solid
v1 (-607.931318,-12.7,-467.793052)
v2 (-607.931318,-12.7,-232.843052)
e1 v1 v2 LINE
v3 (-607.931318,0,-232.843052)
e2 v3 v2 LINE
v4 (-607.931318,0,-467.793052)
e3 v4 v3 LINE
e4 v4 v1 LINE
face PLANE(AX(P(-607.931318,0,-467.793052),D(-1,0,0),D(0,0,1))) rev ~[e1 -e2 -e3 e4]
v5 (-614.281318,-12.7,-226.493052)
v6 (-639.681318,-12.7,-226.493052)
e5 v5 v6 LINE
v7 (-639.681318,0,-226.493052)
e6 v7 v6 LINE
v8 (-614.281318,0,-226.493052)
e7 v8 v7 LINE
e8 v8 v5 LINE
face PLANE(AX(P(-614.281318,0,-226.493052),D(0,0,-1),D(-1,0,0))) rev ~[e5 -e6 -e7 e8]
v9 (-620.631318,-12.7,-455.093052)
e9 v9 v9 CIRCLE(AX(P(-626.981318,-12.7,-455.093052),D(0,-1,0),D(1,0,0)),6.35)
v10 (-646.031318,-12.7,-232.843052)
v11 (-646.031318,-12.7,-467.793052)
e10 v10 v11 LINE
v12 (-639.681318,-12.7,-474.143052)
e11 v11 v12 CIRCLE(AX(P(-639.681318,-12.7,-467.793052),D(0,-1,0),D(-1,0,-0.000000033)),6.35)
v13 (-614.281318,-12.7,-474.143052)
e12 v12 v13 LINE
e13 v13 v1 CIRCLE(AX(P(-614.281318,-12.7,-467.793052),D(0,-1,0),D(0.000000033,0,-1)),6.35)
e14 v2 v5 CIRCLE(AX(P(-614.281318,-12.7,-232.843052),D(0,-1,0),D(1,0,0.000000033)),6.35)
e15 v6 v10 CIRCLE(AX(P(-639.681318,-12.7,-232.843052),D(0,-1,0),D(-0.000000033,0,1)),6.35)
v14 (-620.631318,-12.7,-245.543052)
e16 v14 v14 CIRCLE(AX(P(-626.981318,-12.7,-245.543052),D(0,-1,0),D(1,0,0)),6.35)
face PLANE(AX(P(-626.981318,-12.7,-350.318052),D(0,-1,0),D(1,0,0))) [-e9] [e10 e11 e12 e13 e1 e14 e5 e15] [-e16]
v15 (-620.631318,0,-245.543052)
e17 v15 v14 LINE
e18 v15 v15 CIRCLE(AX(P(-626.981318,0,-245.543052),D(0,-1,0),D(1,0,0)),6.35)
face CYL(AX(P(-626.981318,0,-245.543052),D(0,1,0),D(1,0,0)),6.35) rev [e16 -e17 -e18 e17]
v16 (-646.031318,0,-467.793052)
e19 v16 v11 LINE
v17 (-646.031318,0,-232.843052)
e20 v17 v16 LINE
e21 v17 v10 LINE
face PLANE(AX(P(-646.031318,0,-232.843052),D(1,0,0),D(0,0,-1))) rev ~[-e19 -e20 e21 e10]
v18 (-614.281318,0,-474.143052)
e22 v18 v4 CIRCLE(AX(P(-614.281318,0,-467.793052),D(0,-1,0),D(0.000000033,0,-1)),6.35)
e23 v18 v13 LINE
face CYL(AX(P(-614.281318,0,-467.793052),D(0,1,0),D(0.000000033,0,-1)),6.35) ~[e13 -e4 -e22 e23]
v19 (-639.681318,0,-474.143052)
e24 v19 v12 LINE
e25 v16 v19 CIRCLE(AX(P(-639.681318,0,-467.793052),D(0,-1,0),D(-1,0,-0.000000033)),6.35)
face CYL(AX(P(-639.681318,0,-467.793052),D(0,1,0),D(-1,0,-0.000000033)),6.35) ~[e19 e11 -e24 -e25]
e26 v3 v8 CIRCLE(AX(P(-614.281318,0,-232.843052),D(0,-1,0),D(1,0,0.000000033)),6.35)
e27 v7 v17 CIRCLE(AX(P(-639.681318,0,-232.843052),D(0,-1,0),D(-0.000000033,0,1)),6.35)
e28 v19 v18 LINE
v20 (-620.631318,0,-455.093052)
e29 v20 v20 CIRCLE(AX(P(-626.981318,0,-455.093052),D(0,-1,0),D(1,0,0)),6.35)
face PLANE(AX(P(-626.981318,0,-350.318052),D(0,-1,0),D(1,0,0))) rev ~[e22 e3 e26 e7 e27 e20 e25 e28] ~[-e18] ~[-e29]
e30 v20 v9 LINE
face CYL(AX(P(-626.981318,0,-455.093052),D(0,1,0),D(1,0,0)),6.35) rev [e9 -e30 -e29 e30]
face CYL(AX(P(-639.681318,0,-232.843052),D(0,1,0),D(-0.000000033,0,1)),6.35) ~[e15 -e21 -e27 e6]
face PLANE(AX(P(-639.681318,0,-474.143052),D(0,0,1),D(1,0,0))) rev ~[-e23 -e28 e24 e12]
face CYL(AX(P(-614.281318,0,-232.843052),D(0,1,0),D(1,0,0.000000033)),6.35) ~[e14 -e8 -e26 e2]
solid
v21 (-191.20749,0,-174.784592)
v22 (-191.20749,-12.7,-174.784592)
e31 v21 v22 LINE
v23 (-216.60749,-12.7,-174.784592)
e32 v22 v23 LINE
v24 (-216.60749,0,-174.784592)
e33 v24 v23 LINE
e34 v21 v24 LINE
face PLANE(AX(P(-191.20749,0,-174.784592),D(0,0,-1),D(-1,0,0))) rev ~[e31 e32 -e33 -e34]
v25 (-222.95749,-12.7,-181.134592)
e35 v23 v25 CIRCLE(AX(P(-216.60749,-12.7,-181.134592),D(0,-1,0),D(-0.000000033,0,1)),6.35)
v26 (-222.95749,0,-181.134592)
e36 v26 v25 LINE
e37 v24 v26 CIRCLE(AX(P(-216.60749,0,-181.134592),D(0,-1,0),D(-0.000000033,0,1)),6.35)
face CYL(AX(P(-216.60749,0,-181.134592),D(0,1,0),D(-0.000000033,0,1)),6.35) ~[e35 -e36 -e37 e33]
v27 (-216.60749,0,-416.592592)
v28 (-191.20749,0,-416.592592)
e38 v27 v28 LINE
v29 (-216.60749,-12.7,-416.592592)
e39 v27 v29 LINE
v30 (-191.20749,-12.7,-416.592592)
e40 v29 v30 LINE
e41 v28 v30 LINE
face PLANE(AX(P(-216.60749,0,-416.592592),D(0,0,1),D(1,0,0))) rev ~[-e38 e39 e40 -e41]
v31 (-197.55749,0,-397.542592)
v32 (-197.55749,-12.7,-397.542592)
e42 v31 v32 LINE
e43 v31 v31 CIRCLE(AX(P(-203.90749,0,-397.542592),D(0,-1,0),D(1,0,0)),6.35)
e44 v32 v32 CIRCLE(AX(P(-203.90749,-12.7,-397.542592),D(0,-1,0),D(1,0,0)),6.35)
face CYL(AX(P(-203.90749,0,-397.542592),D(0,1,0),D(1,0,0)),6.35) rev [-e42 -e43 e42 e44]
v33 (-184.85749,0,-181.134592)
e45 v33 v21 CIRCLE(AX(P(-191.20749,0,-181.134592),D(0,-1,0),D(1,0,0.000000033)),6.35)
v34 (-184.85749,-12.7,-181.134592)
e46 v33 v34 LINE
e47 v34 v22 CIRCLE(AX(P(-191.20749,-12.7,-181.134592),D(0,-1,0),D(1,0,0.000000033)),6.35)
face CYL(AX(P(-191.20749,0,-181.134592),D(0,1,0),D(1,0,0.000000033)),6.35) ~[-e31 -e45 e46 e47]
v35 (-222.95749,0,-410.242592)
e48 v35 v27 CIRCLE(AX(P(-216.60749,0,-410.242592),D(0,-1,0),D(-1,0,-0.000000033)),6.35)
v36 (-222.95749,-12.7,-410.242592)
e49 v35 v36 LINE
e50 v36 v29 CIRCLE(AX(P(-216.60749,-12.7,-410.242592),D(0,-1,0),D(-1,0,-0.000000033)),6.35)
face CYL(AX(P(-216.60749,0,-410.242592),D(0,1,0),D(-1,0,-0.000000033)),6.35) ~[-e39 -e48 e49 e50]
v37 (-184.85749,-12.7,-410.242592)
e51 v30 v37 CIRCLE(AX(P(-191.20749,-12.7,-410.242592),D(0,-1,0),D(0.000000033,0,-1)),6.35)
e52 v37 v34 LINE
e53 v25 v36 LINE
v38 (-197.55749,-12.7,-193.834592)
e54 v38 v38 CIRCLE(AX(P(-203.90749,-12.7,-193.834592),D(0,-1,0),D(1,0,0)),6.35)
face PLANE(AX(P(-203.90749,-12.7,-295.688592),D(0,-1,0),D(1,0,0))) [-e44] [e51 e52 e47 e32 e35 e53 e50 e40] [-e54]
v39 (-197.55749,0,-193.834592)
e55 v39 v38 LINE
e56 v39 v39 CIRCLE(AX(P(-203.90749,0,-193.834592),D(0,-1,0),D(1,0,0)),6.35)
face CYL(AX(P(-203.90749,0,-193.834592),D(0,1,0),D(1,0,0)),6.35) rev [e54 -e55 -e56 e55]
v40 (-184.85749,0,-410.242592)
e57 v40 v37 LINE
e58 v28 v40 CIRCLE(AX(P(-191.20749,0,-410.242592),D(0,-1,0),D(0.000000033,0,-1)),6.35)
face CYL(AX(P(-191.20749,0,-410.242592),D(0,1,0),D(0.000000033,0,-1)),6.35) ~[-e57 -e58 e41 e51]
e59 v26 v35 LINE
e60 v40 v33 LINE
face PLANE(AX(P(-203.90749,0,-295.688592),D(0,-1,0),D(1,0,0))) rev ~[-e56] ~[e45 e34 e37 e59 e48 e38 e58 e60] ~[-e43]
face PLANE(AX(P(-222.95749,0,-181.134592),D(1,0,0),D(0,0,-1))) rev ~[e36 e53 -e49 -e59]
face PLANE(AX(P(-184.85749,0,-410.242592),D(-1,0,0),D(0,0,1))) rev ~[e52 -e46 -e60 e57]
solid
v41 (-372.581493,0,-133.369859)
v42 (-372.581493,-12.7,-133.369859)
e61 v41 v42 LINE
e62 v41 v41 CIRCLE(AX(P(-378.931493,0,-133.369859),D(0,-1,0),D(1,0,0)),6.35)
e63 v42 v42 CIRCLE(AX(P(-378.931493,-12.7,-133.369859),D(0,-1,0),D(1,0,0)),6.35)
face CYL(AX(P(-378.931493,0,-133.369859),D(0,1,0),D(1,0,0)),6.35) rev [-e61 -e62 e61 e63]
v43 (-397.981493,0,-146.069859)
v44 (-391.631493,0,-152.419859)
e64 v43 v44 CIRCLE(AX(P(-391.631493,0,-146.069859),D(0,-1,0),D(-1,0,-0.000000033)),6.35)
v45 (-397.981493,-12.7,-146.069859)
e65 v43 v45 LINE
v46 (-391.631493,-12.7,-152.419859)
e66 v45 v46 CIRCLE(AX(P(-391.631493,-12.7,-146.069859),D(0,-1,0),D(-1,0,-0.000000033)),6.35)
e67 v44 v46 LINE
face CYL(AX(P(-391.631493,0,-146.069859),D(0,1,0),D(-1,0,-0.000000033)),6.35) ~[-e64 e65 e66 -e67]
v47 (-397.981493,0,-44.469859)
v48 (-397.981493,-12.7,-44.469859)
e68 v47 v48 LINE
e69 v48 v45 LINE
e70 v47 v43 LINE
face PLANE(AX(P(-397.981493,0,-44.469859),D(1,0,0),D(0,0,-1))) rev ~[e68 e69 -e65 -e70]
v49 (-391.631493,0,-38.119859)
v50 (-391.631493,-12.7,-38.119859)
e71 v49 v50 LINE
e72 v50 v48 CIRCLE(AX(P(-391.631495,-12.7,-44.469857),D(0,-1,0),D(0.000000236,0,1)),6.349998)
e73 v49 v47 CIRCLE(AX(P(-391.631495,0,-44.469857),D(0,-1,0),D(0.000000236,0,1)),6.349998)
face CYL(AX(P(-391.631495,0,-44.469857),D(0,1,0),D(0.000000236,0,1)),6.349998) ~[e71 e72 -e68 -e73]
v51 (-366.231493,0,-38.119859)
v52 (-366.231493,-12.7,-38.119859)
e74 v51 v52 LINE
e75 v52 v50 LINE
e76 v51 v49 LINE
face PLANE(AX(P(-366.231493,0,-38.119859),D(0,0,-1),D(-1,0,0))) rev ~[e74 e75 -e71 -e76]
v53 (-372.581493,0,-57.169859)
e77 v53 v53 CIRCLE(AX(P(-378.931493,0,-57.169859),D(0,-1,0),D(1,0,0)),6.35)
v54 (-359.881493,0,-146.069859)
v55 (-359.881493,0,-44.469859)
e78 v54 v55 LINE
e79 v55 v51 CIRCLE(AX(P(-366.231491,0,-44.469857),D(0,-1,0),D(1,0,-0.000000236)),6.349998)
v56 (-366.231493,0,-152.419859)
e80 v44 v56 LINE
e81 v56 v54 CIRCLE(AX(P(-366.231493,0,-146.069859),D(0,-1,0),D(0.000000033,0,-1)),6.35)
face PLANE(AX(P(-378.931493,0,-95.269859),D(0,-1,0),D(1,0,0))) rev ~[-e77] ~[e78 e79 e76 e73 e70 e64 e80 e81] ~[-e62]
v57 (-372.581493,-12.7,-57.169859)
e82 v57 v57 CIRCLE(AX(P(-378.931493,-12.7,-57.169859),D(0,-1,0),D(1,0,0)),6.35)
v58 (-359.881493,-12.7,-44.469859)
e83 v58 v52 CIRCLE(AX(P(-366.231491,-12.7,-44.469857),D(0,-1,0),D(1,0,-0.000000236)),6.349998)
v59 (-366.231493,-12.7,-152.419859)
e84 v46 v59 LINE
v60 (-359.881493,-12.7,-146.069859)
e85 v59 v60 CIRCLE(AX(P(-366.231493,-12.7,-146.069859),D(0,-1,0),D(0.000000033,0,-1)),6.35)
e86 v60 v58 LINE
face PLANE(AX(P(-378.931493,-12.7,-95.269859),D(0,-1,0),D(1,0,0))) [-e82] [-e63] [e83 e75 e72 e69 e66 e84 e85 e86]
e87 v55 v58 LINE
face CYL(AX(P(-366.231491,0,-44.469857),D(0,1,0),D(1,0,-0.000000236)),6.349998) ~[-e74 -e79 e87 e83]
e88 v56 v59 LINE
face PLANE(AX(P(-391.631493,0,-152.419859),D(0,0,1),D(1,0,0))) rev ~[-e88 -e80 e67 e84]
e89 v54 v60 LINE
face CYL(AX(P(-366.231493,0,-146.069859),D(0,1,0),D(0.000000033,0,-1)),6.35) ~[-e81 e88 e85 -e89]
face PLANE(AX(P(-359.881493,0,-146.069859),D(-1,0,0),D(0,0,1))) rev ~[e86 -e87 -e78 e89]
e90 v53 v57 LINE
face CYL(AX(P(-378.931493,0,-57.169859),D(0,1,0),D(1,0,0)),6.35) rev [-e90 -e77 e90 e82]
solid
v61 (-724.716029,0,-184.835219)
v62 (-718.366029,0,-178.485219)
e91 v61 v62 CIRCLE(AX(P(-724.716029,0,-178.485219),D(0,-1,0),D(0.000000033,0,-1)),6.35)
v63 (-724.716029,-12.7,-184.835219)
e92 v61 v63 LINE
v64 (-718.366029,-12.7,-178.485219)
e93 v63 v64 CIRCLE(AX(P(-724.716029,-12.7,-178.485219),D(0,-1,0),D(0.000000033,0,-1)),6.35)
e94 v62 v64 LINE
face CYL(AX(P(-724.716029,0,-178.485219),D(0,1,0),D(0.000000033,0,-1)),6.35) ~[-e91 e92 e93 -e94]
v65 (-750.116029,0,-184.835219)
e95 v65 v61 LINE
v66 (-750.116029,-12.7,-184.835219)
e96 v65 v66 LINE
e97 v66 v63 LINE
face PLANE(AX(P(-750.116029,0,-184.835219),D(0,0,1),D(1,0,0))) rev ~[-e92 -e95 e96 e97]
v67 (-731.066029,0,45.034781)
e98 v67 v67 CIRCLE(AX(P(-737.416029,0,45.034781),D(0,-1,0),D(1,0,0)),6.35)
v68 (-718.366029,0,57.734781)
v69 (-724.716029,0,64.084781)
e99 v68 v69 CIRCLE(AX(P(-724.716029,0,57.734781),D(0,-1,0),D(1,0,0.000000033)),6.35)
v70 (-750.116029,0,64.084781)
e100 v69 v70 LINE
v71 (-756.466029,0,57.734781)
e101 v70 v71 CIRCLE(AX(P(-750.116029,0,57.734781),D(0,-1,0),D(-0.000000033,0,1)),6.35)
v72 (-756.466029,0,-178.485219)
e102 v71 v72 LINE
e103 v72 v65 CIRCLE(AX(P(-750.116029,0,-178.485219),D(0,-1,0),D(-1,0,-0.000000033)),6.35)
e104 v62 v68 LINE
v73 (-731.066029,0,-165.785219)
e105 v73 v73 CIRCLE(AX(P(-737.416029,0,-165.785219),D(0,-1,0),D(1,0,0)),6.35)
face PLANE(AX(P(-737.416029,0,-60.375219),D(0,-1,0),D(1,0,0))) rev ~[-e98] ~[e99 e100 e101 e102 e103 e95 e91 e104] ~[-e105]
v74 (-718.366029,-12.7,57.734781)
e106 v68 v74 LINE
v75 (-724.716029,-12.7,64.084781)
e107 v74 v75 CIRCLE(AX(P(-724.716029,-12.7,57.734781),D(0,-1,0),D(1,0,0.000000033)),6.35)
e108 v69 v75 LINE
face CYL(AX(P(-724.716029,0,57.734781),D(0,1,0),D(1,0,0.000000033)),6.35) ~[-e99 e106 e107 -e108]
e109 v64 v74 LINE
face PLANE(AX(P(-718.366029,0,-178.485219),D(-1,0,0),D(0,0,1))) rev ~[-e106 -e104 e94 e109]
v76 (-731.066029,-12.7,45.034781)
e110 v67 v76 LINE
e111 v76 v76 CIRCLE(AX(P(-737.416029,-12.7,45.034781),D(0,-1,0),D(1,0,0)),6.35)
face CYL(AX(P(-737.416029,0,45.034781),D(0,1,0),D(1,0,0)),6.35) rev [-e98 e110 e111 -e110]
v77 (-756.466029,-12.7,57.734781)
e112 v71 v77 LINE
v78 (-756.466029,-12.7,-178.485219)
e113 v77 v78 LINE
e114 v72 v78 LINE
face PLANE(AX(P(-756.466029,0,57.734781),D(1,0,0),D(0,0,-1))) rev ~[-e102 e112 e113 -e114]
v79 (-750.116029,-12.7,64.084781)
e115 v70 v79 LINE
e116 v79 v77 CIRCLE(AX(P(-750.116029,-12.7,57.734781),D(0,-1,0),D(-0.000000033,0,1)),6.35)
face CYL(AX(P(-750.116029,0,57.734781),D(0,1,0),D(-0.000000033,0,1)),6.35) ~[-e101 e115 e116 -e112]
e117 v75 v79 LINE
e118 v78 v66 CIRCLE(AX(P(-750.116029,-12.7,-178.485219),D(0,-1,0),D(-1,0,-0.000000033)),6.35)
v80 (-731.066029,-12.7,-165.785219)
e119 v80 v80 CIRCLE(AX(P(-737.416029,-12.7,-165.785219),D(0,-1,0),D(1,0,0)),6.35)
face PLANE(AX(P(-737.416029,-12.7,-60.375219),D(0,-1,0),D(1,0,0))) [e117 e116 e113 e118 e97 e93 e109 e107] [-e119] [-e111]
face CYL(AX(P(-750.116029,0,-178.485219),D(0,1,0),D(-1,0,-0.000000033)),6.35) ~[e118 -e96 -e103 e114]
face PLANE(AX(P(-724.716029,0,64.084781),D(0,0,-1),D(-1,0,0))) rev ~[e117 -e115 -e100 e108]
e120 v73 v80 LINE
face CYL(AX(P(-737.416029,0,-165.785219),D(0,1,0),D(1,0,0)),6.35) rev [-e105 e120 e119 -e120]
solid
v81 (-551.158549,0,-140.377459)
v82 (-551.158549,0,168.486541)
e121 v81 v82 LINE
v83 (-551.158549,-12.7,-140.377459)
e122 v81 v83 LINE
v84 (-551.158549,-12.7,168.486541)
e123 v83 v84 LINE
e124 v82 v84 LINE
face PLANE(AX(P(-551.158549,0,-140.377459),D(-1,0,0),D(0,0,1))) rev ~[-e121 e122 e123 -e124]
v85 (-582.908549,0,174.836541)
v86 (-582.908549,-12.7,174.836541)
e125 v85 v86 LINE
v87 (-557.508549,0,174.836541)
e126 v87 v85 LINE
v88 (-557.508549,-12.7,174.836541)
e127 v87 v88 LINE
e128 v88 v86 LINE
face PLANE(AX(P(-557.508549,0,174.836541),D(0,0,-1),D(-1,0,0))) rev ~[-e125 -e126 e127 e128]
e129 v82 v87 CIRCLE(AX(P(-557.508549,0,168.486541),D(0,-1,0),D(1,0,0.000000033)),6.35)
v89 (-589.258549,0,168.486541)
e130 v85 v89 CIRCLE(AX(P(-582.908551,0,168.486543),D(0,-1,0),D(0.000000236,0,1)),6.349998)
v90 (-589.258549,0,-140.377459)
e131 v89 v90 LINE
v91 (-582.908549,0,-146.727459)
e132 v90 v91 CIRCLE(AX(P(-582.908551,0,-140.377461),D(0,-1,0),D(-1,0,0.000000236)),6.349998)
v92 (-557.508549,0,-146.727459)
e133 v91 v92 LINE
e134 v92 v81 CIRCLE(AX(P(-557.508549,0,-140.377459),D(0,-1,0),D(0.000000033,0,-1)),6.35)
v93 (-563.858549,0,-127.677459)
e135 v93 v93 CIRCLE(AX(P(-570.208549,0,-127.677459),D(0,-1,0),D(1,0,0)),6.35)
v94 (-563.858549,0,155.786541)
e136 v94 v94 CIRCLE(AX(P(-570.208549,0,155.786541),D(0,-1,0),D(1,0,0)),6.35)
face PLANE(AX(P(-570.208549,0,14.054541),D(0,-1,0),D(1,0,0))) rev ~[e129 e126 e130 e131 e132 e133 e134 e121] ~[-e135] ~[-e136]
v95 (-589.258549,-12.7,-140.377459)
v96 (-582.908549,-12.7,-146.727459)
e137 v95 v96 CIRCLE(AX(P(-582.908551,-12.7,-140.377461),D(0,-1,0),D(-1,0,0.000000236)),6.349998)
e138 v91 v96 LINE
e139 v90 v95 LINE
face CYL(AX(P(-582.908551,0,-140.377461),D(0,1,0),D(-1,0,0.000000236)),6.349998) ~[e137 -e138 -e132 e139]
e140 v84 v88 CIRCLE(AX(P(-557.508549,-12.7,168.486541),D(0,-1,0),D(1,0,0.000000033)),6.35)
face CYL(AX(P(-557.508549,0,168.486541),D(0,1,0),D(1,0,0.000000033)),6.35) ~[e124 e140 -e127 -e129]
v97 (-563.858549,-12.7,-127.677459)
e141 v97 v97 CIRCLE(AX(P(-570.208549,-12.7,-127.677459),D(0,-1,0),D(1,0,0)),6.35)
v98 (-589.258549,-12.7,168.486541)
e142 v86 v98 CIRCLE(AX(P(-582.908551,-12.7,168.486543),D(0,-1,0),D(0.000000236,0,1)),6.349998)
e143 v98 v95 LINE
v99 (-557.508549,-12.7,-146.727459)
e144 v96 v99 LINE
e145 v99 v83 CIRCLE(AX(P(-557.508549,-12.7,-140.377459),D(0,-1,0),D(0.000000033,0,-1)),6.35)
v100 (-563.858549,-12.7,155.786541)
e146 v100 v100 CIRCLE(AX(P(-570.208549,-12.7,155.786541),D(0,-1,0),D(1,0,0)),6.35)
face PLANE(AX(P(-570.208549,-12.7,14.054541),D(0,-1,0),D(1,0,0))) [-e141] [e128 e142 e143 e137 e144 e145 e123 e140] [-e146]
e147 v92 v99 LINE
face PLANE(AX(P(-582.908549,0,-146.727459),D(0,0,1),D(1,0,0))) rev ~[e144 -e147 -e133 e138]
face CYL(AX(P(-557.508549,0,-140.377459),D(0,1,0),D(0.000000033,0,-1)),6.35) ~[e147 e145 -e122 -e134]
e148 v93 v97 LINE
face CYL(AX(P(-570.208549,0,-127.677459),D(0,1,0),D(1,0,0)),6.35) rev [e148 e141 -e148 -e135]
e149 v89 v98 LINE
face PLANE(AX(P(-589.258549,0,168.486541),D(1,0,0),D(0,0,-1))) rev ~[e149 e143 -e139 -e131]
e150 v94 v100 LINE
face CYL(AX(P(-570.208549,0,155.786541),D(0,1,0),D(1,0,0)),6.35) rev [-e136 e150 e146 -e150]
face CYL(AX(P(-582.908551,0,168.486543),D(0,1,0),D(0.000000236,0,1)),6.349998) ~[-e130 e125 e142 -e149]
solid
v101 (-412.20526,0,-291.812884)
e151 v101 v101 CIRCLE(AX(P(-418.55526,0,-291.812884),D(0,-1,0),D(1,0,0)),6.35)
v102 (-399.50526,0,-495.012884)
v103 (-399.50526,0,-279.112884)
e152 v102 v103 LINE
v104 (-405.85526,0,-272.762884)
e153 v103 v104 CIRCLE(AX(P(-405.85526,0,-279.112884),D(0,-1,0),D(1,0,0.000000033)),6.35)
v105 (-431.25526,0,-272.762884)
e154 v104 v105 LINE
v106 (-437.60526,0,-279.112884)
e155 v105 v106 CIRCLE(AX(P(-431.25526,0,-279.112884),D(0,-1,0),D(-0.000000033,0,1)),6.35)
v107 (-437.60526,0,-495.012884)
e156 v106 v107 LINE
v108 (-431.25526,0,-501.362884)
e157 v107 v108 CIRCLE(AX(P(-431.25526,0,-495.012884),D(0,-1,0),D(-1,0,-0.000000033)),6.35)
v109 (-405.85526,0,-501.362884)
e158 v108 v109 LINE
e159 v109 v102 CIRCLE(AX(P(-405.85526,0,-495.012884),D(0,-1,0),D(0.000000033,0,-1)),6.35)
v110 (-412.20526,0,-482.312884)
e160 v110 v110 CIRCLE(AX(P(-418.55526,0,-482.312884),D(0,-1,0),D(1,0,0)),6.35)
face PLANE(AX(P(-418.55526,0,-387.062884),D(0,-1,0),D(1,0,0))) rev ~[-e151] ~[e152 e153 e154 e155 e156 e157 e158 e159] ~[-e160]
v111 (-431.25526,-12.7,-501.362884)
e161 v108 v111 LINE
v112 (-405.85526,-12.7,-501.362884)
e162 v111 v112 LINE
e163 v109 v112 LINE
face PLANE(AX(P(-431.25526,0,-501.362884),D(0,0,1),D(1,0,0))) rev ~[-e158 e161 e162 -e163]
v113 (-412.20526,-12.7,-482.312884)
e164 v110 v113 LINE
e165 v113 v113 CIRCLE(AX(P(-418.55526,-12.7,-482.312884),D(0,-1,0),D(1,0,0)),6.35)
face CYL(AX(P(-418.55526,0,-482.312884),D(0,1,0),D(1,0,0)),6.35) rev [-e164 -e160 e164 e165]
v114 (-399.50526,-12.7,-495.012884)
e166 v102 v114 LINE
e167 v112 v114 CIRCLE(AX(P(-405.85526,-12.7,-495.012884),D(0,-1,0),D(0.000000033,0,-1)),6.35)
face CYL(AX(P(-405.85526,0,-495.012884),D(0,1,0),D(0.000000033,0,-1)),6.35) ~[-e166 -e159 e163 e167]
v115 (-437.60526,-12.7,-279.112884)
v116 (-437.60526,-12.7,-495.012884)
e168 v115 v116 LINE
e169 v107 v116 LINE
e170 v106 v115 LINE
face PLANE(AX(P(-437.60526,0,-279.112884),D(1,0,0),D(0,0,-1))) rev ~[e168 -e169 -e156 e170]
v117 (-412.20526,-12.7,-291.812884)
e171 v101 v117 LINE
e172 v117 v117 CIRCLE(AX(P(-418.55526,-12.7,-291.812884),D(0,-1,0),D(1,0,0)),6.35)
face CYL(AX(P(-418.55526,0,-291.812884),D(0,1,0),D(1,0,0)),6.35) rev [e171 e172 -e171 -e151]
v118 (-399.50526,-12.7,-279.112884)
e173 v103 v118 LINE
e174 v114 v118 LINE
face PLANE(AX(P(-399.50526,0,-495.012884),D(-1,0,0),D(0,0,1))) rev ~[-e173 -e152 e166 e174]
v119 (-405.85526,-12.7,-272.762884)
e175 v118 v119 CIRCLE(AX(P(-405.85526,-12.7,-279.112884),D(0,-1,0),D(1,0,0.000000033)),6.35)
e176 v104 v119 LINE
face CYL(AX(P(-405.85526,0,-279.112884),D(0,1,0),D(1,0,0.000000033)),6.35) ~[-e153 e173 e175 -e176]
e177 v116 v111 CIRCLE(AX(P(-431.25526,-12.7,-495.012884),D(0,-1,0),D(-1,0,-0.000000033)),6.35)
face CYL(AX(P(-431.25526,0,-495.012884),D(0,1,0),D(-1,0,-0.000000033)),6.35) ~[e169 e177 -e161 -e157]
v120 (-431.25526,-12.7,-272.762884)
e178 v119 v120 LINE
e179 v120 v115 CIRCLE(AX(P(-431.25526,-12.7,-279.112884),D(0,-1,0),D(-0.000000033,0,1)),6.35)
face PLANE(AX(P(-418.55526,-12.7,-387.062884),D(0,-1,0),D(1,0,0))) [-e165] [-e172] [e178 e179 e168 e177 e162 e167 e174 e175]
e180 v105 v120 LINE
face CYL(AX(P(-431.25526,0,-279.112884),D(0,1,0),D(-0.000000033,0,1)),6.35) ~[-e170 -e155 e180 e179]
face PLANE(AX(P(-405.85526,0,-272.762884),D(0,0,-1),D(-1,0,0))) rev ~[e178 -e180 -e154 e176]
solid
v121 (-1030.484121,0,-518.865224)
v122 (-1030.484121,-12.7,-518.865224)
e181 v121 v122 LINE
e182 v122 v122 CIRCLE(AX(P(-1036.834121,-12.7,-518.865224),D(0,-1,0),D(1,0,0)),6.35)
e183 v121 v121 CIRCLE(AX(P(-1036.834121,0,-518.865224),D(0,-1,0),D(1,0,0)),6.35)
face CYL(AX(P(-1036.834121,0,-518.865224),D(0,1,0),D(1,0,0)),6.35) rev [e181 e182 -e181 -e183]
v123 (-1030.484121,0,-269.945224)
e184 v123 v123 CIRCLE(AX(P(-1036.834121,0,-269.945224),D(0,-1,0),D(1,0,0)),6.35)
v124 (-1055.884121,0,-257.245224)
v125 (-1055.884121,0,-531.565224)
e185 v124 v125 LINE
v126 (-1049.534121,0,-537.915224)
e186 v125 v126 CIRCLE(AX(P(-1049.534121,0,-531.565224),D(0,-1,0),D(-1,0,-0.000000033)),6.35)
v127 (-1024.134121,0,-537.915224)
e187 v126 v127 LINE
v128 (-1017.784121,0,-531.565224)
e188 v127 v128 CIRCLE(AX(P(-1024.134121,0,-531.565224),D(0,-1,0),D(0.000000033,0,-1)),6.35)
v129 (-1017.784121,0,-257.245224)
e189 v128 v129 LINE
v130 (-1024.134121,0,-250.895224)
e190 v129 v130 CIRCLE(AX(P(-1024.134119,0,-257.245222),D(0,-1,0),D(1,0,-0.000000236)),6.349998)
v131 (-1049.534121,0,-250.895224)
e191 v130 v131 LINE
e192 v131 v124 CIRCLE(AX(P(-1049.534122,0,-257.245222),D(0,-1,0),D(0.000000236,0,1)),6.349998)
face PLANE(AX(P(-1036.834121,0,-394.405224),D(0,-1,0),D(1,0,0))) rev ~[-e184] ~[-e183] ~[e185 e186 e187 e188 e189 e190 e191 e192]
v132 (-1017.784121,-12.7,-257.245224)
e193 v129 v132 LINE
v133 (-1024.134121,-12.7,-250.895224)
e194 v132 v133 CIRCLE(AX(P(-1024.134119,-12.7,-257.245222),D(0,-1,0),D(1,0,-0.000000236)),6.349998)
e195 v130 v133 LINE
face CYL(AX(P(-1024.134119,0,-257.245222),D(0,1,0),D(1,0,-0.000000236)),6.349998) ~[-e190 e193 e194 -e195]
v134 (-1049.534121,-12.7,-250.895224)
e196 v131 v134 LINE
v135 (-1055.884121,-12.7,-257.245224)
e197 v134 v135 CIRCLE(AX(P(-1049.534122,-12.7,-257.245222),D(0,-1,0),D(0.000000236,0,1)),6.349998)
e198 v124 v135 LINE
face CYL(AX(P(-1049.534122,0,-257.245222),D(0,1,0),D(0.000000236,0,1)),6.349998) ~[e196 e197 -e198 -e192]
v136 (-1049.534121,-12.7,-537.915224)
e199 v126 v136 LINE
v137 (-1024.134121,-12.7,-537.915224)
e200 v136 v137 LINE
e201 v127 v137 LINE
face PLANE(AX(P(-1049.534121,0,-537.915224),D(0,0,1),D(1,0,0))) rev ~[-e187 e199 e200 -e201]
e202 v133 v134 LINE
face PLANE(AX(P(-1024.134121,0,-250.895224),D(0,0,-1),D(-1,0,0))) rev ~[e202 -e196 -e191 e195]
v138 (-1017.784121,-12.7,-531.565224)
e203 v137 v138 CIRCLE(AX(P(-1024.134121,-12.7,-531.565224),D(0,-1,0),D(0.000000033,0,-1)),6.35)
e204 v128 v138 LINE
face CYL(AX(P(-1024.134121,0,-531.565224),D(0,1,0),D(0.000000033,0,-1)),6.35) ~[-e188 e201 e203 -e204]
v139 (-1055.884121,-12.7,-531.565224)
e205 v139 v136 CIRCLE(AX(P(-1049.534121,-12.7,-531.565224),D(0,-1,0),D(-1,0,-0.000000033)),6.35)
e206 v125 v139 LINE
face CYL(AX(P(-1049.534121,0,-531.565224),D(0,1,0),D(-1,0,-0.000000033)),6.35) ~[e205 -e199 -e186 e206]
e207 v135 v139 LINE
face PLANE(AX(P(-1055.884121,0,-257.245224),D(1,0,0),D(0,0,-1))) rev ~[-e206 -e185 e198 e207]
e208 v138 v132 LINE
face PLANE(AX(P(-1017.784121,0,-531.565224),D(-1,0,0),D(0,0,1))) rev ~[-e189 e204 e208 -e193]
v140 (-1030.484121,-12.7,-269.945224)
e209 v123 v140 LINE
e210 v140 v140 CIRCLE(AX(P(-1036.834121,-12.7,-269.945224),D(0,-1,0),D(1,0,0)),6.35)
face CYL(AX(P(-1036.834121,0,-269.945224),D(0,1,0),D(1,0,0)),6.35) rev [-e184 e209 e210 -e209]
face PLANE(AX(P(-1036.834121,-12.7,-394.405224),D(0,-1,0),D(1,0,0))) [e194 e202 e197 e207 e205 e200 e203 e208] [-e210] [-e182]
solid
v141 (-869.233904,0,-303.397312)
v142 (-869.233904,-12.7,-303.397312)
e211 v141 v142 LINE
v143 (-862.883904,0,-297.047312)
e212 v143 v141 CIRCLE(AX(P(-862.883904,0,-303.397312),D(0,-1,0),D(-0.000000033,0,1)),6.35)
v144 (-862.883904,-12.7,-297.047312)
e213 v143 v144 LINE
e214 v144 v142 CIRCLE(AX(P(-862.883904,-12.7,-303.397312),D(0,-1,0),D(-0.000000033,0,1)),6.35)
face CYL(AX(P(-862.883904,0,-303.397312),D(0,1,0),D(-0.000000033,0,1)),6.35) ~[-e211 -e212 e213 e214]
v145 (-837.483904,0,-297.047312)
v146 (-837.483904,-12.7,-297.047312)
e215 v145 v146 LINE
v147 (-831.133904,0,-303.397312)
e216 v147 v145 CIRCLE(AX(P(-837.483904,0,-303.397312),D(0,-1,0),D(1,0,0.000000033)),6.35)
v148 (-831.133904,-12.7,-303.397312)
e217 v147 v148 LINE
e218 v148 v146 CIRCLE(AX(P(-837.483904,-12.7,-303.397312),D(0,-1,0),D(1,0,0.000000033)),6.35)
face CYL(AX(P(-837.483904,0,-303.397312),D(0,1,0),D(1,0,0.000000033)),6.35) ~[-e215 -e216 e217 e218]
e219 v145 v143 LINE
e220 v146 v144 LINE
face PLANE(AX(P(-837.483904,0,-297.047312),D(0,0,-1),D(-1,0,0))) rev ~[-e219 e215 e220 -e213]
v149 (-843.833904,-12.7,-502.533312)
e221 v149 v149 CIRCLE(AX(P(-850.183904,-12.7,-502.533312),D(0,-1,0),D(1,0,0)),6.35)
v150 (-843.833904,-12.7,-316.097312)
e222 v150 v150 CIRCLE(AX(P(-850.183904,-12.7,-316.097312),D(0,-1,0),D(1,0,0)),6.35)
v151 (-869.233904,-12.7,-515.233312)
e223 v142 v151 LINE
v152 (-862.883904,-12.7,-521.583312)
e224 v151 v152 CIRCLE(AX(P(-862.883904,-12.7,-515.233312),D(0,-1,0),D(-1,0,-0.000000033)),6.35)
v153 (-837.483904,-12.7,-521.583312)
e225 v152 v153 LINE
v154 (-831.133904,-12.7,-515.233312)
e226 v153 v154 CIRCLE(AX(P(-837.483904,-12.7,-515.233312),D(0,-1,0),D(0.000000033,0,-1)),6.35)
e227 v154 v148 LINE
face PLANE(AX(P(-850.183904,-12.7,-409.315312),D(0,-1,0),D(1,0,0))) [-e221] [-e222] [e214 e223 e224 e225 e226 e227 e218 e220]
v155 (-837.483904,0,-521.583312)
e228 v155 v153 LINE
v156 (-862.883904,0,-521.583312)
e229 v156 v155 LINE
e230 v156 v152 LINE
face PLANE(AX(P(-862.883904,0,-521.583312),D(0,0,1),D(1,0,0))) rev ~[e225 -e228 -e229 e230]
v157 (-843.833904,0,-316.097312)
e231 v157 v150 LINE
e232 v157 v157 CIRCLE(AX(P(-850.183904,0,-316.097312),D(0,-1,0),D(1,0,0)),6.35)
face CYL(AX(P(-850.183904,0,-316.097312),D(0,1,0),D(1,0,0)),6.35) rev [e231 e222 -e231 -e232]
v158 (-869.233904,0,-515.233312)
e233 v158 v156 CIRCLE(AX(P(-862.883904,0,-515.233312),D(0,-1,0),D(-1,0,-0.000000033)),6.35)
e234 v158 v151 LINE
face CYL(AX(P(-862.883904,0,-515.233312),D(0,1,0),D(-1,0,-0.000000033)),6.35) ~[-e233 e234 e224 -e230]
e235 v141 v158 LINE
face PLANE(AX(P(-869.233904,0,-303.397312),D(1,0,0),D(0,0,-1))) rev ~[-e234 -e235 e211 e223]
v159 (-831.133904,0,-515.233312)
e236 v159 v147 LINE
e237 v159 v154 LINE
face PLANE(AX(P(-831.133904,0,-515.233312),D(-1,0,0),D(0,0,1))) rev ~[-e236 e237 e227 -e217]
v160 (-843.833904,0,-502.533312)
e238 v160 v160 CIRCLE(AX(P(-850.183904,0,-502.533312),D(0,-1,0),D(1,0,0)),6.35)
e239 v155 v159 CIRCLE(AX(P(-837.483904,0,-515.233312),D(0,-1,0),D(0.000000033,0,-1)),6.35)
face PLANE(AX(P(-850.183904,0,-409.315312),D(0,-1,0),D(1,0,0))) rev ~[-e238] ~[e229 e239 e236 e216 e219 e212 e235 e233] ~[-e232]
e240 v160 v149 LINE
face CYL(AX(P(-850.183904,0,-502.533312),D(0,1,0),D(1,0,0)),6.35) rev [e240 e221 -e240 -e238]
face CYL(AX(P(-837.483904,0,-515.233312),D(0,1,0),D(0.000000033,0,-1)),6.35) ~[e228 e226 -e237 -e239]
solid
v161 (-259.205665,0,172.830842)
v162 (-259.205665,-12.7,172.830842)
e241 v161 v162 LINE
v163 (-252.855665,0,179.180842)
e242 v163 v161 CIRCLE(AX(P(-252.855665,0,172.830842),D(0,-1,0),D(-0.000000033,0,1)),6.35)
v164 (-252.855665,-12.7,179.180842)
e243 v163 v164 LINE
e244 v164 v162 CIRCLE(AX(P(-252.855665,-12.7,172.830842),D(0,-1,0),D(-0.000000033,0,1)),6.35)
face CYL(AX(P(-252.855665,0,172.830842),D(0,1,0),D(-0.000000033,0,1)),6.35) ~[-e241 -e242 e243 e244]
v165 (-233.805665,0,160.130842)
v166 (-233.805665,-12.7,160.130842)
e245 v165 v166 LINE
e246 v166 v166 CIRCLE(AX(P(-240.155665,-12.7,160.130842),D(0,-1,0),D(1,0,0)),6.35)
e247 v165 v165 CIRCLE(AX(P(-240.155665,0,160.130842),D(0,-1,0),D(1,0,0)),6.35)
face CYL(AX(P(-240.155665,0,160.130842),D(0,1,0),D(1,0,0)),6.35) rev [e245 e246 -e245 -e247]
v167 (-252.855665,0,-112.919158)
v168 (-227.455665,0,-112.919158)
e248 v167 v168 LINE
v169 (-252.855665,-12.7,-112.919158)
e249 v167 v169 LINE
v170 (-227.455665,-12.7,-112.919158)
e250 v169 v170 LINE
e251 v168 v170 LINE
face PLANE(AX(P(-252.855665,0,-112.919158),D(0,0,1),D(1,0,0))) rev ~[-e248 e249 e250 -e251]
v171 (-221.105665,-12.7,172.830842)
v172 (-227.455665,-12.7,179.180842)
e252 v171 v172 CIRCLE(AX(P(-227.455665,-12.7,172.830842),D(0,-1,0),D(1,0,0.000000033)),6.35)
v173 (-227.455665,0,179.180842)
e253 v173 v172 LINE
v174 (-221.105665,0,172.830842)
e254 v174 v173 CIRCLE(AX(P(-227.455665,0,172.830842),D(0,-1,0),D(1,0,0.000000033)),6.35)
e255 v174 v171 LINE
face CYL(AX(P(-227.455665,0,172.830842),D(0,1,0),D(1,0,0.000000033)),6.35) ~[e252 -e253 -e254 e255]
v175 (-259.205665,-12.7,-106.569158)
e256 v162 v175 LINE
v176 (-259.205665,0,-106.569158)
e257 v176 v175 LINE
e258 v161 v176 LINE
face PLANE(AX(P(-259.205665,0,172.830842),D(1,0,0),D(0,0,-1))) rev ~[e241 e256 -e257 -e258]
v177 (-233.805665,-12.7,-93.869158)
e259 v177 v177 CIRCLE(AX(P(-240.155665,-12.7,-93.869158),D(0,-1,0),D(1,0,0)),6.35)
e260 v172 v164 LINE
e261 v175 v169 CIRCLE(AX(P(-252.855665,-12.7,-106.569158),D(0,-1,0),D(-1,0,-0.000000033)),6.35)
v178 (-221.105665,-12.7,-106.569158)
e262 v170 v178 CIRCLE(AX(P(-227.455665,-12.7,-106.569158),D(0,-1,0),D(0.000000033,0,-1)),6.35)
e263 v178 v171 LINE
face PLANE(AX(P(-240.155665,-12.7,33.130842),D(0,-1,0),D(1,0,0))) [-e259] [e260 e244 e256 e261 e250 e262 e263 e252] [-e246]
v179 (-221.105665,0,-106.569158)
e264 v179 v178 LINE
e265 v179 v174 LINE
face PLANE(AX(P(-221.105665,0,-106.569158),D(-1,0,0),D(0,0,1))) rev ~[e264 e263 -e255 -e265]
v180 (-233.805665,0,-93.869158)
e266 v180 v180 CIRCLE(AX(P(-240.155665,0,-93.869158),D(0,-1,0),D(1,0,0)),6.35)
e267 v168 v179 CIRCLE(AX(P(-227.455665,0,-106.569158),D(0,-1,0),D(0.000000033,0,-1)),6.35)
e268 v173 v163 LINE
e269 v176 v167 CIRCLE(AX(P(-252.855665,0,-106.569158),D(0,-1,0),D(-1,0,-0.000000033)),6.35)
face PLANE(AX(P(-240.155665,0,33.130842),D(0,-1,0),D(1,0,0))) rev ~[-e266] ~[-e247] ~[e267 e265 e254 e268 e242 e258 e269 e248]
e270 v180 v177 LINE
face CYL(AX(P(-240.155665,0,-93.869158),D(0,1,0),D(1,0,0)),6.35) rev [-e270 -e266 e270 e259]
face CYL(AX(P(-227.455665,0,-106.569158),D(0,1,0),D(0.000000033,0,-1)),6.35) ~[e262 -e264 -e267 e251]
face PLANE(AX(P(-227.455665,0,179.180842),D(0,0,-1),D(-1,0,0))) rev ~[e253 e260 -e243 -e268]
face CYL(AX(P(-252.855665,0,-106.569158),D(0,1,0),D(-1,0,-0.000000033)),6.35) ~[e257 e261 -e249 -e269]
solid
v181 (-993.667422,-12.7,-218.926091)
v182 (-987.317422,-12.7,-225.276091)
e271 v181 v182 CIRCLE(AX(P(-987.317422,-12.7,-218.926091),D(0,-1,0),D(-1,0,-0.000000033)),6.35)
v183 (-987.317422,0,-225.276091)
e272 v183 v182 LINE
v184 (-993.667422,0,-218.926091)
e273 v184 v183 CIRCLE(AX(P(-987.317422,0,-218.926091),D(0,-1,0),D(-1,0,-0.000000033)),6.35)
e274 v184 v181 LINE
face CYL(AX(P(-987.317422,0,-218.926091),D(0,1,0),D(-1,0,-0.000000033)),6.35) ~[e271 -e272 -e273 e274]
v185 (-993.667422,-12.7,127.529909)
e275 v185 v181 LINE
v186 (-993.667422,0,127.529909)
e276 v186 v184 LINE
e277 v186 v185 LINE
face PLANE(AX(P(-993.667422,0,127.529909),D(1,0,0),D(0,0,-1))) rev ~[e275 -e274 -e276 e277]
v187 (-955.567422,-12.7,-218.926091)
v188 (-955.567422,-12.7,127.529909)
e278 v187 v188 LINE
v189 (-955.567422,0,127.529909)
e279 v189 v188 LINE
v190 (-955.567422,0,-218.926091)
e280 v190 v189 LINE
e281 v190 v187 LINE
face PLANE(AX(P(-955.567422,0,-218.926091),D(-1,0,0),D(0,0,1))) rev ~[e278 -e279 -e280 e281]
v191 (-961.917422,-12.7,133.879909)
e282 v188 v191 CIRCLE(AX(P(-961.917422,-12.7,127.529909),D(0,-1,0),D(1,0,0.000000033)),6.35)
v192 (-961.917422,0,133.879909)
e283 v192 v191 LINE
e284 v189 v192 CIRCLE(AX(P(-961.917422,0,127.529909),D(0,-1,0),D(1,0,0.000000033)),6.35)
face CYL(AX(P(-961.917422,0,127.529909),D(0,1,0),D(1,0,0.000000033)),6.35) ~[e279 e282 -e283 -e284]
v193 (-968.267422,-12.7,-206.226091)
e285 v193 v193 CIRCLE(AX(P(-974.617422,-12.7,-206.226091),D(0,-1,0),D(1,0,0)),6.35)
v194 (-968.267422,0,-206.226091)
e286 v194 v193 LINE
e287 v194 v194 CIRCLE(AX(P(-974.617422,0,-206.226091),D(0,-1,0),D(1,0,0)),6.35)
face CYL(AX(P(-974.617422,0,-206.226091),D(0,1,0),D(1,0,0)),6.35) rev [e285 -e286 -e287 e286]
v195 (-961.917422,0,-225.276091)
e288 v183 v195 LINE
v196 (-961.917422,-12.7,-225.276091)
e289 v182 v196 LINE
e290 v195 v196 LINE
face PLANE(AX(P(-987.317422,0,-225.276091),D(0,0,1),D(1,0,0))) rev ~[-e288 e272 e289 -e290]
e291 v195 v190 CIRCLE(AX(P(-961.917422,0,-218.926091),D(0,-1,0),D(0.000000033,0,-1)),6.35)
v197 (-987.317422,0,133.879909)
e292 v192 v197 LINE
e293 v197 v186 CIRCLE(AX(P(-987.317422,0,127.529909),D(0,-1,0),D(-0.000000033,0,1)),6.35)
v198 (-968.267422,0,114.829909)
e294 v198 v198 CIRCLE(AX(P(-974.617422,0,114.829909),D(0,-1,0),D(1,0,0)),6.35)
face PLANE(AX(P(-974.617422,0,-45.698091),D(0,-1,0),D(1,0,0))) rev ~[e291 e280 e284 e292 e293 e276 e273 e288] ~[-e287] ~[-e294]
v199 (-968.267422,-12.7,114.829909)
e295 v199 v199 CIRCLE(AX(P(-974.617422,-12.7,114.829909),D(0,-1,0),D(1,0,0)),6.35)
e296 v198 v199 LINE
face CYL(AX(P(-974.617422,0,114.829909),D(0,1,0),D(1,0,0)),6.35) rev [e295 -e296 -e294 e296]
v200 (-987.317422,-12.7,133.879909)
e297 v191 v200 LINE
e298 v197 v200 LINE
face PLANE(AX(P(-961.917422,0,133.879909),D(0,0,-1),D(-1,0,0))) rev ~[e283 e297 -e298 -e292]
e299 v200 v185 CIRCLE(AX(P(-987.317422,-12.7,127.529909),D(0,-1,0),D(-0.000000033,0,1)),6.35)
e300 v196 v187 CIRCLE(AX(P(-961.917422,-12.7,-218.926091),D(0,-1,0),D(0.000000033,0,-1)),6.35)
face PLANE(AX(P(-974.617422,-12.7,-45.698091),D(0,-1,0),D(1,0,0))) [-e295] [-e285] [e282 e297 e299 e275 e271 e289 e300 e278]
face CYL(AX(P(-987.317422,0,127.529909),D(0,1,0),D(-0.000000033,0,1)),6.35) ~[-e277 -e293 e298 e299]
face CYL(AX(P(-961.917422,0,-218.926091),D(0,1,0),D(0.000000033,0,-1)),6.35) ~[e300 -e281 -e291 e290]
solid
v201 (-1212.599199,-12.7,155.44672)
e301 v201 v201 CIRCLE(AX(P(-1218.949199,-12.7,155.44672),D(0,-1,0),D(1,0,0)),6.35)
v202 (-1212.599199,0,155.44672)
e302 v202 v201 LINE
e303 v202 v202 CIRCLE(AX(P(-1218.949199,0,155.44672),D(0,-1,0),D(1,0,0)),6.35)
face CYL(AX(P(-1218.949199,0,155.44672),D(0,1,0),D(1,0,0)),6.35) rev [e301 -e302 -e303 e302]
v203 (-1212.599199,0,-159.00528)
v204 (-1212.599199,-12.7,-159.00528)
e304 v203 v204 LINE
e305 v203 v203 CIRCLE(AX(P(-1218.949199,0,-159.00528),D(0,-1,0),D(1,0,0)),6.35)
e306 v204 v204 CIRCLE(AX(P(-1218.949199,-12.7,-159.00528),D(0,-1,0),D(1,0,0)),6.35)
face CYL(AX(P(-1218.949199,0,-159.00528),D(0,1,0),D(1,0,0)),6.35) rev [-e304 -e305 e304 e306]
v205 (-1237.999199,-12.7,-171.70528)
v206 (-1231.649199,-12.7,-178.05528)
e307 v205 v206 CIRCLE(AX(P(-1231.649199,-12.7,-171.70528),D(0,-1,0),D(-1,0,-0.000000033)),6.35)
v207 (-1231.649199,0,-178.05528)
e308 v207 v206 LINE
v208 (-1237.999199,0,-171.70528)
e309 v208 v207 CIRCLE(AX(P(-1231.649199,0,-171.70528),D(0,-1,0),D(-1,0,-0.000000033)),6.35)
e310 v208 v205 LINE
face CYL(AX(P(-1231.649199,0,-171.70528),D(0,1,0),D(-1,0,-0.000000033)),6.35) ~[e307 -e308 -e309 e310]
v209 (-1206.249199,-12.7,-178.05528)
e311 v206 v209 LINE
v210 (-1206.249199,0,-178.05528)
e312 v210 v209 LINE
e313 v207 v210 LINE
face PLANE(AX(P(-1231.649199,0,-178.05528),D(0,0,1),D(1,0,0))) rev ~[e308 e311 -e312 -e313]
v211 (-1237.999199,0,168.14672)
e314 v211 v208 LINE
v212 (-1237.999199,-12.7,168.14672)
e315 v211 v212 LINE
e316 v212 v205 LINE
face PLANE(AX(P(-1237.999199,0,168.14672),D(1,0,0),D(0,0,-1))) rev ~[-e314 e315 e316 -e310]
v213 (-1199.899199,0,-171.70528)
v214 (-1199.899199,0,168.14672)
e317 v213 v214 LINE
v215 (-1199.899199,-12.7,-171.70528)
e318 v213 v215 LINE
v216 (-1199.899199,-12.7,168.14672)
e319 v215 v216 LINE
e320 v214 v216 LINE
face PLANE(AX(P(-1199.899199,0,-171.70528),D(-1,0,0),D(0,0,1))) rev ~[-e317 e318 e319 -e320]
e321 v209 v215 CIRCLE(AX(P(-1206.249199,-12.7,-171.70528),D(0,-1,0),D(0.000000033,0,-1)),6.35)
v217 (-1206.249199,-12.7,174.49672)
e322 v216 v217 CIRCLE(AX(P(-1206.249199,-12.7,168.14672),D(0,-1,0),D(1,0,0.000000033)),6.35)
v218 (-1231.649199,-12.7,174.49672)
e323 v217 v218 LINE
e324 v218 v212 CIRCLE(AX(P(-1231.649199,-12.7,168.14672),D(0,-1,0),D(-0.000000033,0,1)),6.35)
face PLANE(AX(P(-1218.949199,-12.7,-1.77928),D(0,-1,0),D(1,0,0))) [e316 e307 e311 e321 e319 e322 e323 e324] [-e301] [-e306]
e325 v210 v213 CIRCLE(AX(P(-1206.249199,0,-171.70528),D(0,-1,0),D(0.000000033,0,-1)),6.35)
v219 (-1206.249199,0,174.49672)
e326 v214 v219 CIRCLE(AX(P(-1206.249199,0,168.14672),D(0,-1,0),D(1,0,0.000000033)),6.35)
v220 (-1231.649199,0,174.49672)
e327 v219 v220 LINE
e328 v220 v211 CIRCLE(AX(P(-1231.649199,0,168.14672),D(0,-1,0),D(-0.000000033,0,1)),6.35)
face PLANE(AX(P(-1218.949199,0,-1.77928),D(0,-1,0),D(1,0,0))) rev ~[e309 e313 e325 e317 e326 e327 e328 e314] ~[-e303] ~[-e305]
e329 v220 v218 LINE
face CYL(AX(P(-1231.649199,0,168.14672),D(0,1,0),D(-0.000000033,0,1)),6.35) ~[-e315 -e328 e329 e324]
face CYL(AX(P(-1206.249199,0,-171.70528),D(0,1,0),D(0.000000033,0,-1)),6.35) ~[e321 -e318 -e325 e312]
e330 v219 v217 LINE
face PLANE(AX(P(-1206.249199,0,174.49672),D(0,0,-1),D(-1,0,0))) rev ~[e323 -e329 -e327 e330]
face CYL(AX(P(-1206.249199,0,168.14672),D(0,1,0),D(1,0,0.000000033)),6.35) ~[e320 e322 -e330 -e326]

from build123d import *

# Parameters (mm, degrees)
F0_R     = 6.35
F1_DEPTH = 12.7


with BuildPart() as f1:
    # F0 (on Front) → F1 (new body)
    with BuildSketch(Plane.XZ):
        with BuildLine():
            ThreePointArc((-1231.649199, 174.49672), (-1236.139327, 172.636848), (-1237.999199, 168.14672))
            Line((-1237.999199, 168.14672), (-1237.999199, -171.70528))
            ThreePointArc((-1237.999199, -171.70528), (-1236.139327, -176.195408), (-1231.649199, -178.05528))
            Line((-1231.649199, -178.05528), (-1206.249199, -178.05528))
            ThreePointArc((-1206.249199, -178.05528), (-1201.759071, -176.195408), (-1199.899199, -171.70528))
            Line((-1199.899199, -171.70528), (-1199.899199, 168.14672))
            ThreePointArc((-1199.899199, 168.14672), (-1201.759071, 172.636848), (-1206.249199, 174.49672))
            Line((-1206.249199, 174.49672), (-1231.649199, 174.49672))
        make_face()
        with Locations((-1218.949199, -159.00528)):
            Circle(F0_R, mode=Mode.SUBTRACT)
        with Locations((-1218.949199, 155.44672)):
            Circle(F0_R, mode=Mode.SUBTRACT)
        with BuildLine():
            ThreePointArc((-987.317422, 133.879909), (-991.80755, 132.020037), (-993.667422, 127.529909))
            Line((-993.667422, 127.529909), (-993.667422, -218.926091))
            ThreePointArc((-993.667422, -218.926091), (-991.80755, -223.416219), (-987.317422, -225.276091))
            Line((-987.317422, -225.276091), (-961.917422, -225.276091))
            ThreePointArc((-961.917422, -225.276091), (-957.427294, -223.416219), (-955.567422, -218.926091))
            Line((-955.567422, -218.926091), (-955.567422, 127.529909))
            ThreePointArc((-955.567422, 127.529909), (-957.427294, 132.020037), (-961.917422, 133.879909))
            Line((-961.917422, 133.879909), (-987.317422, 133.879909))
        make_face()
        with Locations((-974.617422, -206.226091)):
            Circle(F0_R, mode=Mode.SUBTRACT)
        with Locations((-974.617422, 114.829909)):
            Circle(F0_R, mode=Mode.SUBTRACT)
        with BuildLine():
            ThreePointArc((-750.116029, 64.084781), (-754.606157, 62.224909), (-756.466029, 57.734781))
            Line((-756.466029, 57.734781), (-756.466029, -178.485219))
            ThreePointArc((-756.466029, -178.485219), (-754.606157, -182.975347), (-750.116029, -184.835219))
            Line((-750.116029, -184.835219), (-724.716029, -184.835219))
            ThreePointArc((-724.716029, -184.835219), (-720.225901, -182.975347), (-718.366029, -178.485219))
            Line((-718.366029, -178.485219), (-718.366029, 57.734781))
            ThreePointArc((-718.366029, 57.734781), (-720.225901, 62.224909), (-724.716029, 64.084781))
            Line((-724.716029, 64.084781), (-750.116029, 64.084781))
        make_face()
        with Locations((-737.416029, -165.785219)):
            Circle(F0_R, mode=Mode.SUBTRACT)
        with Locations((-737.416029, 45.034781)):
            Circle(F0_R, mode=Mode.SUBTRACT)
        with BuildLine():
            ThreePointArc((-582.908549, 174.836541), (-587.398678, 172.976669), (-589.258549, 168.486541))
            Line((-589.258549, 168.486541), (-589.258549, -140.377459))
            ThreePointArc((-589.258549, -140.377459), (-587.398678, -144.867587), (-582.908549, -146.727459))
            Line((-582.908549, -146.727459), (-557.508549, -146.727459))
            ThreePointArc((-557.508549, -146.727459), (-553.018421, -144.867587), (-551.158549, -140.377459))
            Line((-551.158549, -140.377459), (-551.158549, 168.486541))
            ThreePointArc((-551.158549, 168.486541), (-553.018421, 172.976669), (-557.508549, 174.836541))
            Line((-557.508549, 174.836541), (-582.908549, 174.836541))
        make_face()
        with Locations((-570.208549, -127.677459)):
            Circle(F0_R, mode=Mode.SUBTRACT)
        with Locations((-570.208549, 155.786541)):
            Circle(F0_R, mode=Mode.SUBTRACT)
        with BuildLine():
            Line((-359.881493, -146.069859), (-359.881493, -44.469859))
            ThreePointArc((-359.881493, -44.469859), (-361.741365, -39.97973), (-366.231493, -38.119859))
            Line((-366.231493, -38.119859), (-391.631493, -38.119859))
            ThreePointArc((-391.631493, -38.119859), (-396.121621, -39.97973), (-397.981493, -44.469859))
            Line((-397.981493, -44.469859), (-397.981493, -146.069859))
            ThreePointArc((-397.981493, -146.069859), (-396.121621, -150.559987), (-391.631493, -152.419859))
            Line((-391.631493, -152.419859), (-366.231493, -152.419859))
            ThreePointArc((-366.231493, -152.419859), (-361.741365, -150.559987), (-359.881493, -146.069859))
        make_face()
        with Locations((-378.931493, -133.369859)):
            Circle(F0_R, mode=Mode.SUBTRACT)
        with Locations((-378.931493, -57.169859)):
            Circle(F0_R, mode=Mode.SUBTRACT)
        with BuildLine():
            Line((-227.455665, 179.180842), (-252.855665, 179.180842))
            ThreePointArc((-252.855665, 179.180842), (-257.345793, 177.32097), (-259.205665, 172.830842))
            Line((-259.205665, 172.830842), (-259.205665, -106.569158))
            ThreePointArc((-259.205665, -106.569158), (-257.345793, -111.059286), (-252.855665, -112.919158))
            Line((-252.855665, -112.919158), (-227.455665, -112.919158))
            ThreePointArc((-227.455665, -112.919158), (-222.965537, -111.059286), (-221.105665, -106.569158))
            Line((-221.105665, -106.569158), (-221.105665, 172.830842))
            ThreePointArc((-221.105665, 172.830842), (-222.965537, 177.32097), (-227.455665, 179.180842))
        make_face()
        with Locations((-240.155665, -93.869158)):
            Circle(F0_R, mode=Mode.SUBTRACT)
        with Locations((-240.155665, 160.130842)):
            Circle(F0_R, mode=Mode.SUBTRACT)
        with BuildLine():
            ThreePointArc((-216.60749, -174.784592), (-221.097618, -176.644464), (-222.95749, -181.134592))
            Line((-222.95749, -181.134592), (-222.95749, -410.242592))
            ThreePointArc((-222.95749, -410.242592), (-221.097618, -414.73272), (-216.60749, -416.592592))
            Line((-216.60749, -416.592592), (-191.20749, -416.592592))
            ThreePointArc((-191.20749, -416.592592), (-186.717362, -414.73272), (-184.85749, -410.242592))
            Line((-184.85749, -410.242592), (-184.85749, -181.134592))
            ThreePointArc((-184.85749, -181.134592), (-186.717362, -176.644464), (-191.20749, -174.784592))
            Line((-191.20749, -174.784592), (-216.60749, -174.784592))
        make_face()
        with Locations((-203.90749, -397.542592)):
            Circle(F0_R, mode=Mode.SUBTRACT)
        with Locations((-203.90749, -193.834592)):
            Circle(F0_R, mode=Mode.SUBTRACT)
        with BuildLine():
            ThreePointArc((-431.25526, -272.762884), (-435.745388, -274.622756), (-437.60526, -279.112884))
            Line((-437.60526, -279.112884), (-437.60526, -495.012884))
            ThreePointArc((-437.60526, -495.012884), (-435.745388, -499.503012), (-431.25526, -501.362884))
            Line((-431.25526, -501.362884), (-405.85526, -501.362884))
            ThreePointArc((-405.85526, -501.362884), (-401.365132, -499.503012), (-399.50526, -495.012884))
            Line((-399.50526, -495.012884), (-399.50526, -279.112884))
            ThreePointArc((-399.50526, -279.112884), (-401.365132, -274.622756), (-405.85526, -272.762884))
            Line((-405.85526, -272.762884), (-431.25526, -272.762884))
        make_face()
        with Locations((-418.55526, -482.312884)):
            Circle(F0_R, mode=Mode.SUBTRACT)
        with Locations((-418.55526, -291.812884)):
            Circle(F0_R, mode=Mode.SUBTRACT)
        with BuildLine():
            ThreePointArc((-639.681318, -226.493052), (-644.171446, -228.352924), (-646.031318, -232.843052))
            Line((-646.031318, -232.843052), (-646.031318, -467.793052))
            ThreePointArc((-646.031318, -467.793052), (-644.171446, -472.28318), (-639.681318, -474.143052))
            Line((-639.681318, -474.143052), (-614.281318, -474.143052))
            ThreePointArc((-614.281318, -474.143052), (-609.79119, -472.28318), (-607.931318, -467.793052))
            Line((-607.931318, -467.793052), (-607.931318, -232.843052))
            ThreePointArc((-607.931318, -232.843052), (-609.79119, -228.352924), (-614.281318, -226.493052))
            Line((-614.281318, -226.493052), (-639.681318, -226.493052))
        make_face()
        with Locations((-626.981318, -455.093052)):
            Circle(F0_R, mode=Mode.SUBTRACT)
        with Locations((-626.981318, -245.543052)):
            Circle(F0_R, mode=Mode.SUBTRACT)
        with BuildLine():
            ThreePointArc((-862.883904, -297.047312), (-867.374032, -298.907184), (-869.233904, -303.397312))
            Line((-869.233904, -303.397312), (-869.233904, -515.233312))
            ThreePointArc((-869.233904, -515.233312), (-867.374032, -519.72344), (-862.883904, -521.583312))
            Line((-862.883904, -521.583312), (-837.483904, -521.583312))
            ThreePointArc((-837.483904, -521.583312), (-832.993776, -519.72344), (-831.133904, -515.233312))
            Line((-831.133904, -515.233312), (-831.133904, -303.397312))
            ThreePointArc((-831.133904, -303.397312), (-832.993776, -298.907184), (-837.483904, -297.047312))
            Line((-837.483904, -297.047312), (-862.883904, -297.047312))
        make_face()
        with Locations((-850.183904, -502.533312)):
            Circle(F0_R, mode=Mode.SUBTRACT)
        with Locations((-850.183904, -316.097312)):
            Circle(F0_R, mode=Mode.SUBTRACT)
        with BuildLine():
            ThreePointArc((-1049.534121, -250.895224), (-1054.024249, -252.755095), (-1055.884121, -257.245224))
            Line((-1055.884121, -257.245224), (-1055.884121, -531.565224))
            ThreePointArc((-1055.884121, -531.565224), (-1054.024249, -536.055352), (-1049.534121, -537.915224))
            Line((-1049.534121, -537.915224), (-1024.134121, -537.915224))
            ThreePointArc((-1024.134121, -537.915224), (-1019.643993, -536.055352), (-1017.784121, -531.565224))
            Line((-1017.784121, -531.565224), (-1017.784121, -257.245224))
            ThreePointArc((-1017.784121, -257.245224), (-1019.643993, -252.755095), (-1024.134121, -250.895224))
            Line((-1024.134121, -250.895224), (-1049.534121, -250.895224))
        make_face()
        with Locations((-1036.834121, -518.865224)):
            Circle(F0_R, mode=Mode.SUBTRACT)
        with Locations((-1036.834121, -269.945224)):
            Circle(F0_R, mode=Mode.SUBTRACT)
    extrude(amount=F1_DEPTH)


solid = f1.part
